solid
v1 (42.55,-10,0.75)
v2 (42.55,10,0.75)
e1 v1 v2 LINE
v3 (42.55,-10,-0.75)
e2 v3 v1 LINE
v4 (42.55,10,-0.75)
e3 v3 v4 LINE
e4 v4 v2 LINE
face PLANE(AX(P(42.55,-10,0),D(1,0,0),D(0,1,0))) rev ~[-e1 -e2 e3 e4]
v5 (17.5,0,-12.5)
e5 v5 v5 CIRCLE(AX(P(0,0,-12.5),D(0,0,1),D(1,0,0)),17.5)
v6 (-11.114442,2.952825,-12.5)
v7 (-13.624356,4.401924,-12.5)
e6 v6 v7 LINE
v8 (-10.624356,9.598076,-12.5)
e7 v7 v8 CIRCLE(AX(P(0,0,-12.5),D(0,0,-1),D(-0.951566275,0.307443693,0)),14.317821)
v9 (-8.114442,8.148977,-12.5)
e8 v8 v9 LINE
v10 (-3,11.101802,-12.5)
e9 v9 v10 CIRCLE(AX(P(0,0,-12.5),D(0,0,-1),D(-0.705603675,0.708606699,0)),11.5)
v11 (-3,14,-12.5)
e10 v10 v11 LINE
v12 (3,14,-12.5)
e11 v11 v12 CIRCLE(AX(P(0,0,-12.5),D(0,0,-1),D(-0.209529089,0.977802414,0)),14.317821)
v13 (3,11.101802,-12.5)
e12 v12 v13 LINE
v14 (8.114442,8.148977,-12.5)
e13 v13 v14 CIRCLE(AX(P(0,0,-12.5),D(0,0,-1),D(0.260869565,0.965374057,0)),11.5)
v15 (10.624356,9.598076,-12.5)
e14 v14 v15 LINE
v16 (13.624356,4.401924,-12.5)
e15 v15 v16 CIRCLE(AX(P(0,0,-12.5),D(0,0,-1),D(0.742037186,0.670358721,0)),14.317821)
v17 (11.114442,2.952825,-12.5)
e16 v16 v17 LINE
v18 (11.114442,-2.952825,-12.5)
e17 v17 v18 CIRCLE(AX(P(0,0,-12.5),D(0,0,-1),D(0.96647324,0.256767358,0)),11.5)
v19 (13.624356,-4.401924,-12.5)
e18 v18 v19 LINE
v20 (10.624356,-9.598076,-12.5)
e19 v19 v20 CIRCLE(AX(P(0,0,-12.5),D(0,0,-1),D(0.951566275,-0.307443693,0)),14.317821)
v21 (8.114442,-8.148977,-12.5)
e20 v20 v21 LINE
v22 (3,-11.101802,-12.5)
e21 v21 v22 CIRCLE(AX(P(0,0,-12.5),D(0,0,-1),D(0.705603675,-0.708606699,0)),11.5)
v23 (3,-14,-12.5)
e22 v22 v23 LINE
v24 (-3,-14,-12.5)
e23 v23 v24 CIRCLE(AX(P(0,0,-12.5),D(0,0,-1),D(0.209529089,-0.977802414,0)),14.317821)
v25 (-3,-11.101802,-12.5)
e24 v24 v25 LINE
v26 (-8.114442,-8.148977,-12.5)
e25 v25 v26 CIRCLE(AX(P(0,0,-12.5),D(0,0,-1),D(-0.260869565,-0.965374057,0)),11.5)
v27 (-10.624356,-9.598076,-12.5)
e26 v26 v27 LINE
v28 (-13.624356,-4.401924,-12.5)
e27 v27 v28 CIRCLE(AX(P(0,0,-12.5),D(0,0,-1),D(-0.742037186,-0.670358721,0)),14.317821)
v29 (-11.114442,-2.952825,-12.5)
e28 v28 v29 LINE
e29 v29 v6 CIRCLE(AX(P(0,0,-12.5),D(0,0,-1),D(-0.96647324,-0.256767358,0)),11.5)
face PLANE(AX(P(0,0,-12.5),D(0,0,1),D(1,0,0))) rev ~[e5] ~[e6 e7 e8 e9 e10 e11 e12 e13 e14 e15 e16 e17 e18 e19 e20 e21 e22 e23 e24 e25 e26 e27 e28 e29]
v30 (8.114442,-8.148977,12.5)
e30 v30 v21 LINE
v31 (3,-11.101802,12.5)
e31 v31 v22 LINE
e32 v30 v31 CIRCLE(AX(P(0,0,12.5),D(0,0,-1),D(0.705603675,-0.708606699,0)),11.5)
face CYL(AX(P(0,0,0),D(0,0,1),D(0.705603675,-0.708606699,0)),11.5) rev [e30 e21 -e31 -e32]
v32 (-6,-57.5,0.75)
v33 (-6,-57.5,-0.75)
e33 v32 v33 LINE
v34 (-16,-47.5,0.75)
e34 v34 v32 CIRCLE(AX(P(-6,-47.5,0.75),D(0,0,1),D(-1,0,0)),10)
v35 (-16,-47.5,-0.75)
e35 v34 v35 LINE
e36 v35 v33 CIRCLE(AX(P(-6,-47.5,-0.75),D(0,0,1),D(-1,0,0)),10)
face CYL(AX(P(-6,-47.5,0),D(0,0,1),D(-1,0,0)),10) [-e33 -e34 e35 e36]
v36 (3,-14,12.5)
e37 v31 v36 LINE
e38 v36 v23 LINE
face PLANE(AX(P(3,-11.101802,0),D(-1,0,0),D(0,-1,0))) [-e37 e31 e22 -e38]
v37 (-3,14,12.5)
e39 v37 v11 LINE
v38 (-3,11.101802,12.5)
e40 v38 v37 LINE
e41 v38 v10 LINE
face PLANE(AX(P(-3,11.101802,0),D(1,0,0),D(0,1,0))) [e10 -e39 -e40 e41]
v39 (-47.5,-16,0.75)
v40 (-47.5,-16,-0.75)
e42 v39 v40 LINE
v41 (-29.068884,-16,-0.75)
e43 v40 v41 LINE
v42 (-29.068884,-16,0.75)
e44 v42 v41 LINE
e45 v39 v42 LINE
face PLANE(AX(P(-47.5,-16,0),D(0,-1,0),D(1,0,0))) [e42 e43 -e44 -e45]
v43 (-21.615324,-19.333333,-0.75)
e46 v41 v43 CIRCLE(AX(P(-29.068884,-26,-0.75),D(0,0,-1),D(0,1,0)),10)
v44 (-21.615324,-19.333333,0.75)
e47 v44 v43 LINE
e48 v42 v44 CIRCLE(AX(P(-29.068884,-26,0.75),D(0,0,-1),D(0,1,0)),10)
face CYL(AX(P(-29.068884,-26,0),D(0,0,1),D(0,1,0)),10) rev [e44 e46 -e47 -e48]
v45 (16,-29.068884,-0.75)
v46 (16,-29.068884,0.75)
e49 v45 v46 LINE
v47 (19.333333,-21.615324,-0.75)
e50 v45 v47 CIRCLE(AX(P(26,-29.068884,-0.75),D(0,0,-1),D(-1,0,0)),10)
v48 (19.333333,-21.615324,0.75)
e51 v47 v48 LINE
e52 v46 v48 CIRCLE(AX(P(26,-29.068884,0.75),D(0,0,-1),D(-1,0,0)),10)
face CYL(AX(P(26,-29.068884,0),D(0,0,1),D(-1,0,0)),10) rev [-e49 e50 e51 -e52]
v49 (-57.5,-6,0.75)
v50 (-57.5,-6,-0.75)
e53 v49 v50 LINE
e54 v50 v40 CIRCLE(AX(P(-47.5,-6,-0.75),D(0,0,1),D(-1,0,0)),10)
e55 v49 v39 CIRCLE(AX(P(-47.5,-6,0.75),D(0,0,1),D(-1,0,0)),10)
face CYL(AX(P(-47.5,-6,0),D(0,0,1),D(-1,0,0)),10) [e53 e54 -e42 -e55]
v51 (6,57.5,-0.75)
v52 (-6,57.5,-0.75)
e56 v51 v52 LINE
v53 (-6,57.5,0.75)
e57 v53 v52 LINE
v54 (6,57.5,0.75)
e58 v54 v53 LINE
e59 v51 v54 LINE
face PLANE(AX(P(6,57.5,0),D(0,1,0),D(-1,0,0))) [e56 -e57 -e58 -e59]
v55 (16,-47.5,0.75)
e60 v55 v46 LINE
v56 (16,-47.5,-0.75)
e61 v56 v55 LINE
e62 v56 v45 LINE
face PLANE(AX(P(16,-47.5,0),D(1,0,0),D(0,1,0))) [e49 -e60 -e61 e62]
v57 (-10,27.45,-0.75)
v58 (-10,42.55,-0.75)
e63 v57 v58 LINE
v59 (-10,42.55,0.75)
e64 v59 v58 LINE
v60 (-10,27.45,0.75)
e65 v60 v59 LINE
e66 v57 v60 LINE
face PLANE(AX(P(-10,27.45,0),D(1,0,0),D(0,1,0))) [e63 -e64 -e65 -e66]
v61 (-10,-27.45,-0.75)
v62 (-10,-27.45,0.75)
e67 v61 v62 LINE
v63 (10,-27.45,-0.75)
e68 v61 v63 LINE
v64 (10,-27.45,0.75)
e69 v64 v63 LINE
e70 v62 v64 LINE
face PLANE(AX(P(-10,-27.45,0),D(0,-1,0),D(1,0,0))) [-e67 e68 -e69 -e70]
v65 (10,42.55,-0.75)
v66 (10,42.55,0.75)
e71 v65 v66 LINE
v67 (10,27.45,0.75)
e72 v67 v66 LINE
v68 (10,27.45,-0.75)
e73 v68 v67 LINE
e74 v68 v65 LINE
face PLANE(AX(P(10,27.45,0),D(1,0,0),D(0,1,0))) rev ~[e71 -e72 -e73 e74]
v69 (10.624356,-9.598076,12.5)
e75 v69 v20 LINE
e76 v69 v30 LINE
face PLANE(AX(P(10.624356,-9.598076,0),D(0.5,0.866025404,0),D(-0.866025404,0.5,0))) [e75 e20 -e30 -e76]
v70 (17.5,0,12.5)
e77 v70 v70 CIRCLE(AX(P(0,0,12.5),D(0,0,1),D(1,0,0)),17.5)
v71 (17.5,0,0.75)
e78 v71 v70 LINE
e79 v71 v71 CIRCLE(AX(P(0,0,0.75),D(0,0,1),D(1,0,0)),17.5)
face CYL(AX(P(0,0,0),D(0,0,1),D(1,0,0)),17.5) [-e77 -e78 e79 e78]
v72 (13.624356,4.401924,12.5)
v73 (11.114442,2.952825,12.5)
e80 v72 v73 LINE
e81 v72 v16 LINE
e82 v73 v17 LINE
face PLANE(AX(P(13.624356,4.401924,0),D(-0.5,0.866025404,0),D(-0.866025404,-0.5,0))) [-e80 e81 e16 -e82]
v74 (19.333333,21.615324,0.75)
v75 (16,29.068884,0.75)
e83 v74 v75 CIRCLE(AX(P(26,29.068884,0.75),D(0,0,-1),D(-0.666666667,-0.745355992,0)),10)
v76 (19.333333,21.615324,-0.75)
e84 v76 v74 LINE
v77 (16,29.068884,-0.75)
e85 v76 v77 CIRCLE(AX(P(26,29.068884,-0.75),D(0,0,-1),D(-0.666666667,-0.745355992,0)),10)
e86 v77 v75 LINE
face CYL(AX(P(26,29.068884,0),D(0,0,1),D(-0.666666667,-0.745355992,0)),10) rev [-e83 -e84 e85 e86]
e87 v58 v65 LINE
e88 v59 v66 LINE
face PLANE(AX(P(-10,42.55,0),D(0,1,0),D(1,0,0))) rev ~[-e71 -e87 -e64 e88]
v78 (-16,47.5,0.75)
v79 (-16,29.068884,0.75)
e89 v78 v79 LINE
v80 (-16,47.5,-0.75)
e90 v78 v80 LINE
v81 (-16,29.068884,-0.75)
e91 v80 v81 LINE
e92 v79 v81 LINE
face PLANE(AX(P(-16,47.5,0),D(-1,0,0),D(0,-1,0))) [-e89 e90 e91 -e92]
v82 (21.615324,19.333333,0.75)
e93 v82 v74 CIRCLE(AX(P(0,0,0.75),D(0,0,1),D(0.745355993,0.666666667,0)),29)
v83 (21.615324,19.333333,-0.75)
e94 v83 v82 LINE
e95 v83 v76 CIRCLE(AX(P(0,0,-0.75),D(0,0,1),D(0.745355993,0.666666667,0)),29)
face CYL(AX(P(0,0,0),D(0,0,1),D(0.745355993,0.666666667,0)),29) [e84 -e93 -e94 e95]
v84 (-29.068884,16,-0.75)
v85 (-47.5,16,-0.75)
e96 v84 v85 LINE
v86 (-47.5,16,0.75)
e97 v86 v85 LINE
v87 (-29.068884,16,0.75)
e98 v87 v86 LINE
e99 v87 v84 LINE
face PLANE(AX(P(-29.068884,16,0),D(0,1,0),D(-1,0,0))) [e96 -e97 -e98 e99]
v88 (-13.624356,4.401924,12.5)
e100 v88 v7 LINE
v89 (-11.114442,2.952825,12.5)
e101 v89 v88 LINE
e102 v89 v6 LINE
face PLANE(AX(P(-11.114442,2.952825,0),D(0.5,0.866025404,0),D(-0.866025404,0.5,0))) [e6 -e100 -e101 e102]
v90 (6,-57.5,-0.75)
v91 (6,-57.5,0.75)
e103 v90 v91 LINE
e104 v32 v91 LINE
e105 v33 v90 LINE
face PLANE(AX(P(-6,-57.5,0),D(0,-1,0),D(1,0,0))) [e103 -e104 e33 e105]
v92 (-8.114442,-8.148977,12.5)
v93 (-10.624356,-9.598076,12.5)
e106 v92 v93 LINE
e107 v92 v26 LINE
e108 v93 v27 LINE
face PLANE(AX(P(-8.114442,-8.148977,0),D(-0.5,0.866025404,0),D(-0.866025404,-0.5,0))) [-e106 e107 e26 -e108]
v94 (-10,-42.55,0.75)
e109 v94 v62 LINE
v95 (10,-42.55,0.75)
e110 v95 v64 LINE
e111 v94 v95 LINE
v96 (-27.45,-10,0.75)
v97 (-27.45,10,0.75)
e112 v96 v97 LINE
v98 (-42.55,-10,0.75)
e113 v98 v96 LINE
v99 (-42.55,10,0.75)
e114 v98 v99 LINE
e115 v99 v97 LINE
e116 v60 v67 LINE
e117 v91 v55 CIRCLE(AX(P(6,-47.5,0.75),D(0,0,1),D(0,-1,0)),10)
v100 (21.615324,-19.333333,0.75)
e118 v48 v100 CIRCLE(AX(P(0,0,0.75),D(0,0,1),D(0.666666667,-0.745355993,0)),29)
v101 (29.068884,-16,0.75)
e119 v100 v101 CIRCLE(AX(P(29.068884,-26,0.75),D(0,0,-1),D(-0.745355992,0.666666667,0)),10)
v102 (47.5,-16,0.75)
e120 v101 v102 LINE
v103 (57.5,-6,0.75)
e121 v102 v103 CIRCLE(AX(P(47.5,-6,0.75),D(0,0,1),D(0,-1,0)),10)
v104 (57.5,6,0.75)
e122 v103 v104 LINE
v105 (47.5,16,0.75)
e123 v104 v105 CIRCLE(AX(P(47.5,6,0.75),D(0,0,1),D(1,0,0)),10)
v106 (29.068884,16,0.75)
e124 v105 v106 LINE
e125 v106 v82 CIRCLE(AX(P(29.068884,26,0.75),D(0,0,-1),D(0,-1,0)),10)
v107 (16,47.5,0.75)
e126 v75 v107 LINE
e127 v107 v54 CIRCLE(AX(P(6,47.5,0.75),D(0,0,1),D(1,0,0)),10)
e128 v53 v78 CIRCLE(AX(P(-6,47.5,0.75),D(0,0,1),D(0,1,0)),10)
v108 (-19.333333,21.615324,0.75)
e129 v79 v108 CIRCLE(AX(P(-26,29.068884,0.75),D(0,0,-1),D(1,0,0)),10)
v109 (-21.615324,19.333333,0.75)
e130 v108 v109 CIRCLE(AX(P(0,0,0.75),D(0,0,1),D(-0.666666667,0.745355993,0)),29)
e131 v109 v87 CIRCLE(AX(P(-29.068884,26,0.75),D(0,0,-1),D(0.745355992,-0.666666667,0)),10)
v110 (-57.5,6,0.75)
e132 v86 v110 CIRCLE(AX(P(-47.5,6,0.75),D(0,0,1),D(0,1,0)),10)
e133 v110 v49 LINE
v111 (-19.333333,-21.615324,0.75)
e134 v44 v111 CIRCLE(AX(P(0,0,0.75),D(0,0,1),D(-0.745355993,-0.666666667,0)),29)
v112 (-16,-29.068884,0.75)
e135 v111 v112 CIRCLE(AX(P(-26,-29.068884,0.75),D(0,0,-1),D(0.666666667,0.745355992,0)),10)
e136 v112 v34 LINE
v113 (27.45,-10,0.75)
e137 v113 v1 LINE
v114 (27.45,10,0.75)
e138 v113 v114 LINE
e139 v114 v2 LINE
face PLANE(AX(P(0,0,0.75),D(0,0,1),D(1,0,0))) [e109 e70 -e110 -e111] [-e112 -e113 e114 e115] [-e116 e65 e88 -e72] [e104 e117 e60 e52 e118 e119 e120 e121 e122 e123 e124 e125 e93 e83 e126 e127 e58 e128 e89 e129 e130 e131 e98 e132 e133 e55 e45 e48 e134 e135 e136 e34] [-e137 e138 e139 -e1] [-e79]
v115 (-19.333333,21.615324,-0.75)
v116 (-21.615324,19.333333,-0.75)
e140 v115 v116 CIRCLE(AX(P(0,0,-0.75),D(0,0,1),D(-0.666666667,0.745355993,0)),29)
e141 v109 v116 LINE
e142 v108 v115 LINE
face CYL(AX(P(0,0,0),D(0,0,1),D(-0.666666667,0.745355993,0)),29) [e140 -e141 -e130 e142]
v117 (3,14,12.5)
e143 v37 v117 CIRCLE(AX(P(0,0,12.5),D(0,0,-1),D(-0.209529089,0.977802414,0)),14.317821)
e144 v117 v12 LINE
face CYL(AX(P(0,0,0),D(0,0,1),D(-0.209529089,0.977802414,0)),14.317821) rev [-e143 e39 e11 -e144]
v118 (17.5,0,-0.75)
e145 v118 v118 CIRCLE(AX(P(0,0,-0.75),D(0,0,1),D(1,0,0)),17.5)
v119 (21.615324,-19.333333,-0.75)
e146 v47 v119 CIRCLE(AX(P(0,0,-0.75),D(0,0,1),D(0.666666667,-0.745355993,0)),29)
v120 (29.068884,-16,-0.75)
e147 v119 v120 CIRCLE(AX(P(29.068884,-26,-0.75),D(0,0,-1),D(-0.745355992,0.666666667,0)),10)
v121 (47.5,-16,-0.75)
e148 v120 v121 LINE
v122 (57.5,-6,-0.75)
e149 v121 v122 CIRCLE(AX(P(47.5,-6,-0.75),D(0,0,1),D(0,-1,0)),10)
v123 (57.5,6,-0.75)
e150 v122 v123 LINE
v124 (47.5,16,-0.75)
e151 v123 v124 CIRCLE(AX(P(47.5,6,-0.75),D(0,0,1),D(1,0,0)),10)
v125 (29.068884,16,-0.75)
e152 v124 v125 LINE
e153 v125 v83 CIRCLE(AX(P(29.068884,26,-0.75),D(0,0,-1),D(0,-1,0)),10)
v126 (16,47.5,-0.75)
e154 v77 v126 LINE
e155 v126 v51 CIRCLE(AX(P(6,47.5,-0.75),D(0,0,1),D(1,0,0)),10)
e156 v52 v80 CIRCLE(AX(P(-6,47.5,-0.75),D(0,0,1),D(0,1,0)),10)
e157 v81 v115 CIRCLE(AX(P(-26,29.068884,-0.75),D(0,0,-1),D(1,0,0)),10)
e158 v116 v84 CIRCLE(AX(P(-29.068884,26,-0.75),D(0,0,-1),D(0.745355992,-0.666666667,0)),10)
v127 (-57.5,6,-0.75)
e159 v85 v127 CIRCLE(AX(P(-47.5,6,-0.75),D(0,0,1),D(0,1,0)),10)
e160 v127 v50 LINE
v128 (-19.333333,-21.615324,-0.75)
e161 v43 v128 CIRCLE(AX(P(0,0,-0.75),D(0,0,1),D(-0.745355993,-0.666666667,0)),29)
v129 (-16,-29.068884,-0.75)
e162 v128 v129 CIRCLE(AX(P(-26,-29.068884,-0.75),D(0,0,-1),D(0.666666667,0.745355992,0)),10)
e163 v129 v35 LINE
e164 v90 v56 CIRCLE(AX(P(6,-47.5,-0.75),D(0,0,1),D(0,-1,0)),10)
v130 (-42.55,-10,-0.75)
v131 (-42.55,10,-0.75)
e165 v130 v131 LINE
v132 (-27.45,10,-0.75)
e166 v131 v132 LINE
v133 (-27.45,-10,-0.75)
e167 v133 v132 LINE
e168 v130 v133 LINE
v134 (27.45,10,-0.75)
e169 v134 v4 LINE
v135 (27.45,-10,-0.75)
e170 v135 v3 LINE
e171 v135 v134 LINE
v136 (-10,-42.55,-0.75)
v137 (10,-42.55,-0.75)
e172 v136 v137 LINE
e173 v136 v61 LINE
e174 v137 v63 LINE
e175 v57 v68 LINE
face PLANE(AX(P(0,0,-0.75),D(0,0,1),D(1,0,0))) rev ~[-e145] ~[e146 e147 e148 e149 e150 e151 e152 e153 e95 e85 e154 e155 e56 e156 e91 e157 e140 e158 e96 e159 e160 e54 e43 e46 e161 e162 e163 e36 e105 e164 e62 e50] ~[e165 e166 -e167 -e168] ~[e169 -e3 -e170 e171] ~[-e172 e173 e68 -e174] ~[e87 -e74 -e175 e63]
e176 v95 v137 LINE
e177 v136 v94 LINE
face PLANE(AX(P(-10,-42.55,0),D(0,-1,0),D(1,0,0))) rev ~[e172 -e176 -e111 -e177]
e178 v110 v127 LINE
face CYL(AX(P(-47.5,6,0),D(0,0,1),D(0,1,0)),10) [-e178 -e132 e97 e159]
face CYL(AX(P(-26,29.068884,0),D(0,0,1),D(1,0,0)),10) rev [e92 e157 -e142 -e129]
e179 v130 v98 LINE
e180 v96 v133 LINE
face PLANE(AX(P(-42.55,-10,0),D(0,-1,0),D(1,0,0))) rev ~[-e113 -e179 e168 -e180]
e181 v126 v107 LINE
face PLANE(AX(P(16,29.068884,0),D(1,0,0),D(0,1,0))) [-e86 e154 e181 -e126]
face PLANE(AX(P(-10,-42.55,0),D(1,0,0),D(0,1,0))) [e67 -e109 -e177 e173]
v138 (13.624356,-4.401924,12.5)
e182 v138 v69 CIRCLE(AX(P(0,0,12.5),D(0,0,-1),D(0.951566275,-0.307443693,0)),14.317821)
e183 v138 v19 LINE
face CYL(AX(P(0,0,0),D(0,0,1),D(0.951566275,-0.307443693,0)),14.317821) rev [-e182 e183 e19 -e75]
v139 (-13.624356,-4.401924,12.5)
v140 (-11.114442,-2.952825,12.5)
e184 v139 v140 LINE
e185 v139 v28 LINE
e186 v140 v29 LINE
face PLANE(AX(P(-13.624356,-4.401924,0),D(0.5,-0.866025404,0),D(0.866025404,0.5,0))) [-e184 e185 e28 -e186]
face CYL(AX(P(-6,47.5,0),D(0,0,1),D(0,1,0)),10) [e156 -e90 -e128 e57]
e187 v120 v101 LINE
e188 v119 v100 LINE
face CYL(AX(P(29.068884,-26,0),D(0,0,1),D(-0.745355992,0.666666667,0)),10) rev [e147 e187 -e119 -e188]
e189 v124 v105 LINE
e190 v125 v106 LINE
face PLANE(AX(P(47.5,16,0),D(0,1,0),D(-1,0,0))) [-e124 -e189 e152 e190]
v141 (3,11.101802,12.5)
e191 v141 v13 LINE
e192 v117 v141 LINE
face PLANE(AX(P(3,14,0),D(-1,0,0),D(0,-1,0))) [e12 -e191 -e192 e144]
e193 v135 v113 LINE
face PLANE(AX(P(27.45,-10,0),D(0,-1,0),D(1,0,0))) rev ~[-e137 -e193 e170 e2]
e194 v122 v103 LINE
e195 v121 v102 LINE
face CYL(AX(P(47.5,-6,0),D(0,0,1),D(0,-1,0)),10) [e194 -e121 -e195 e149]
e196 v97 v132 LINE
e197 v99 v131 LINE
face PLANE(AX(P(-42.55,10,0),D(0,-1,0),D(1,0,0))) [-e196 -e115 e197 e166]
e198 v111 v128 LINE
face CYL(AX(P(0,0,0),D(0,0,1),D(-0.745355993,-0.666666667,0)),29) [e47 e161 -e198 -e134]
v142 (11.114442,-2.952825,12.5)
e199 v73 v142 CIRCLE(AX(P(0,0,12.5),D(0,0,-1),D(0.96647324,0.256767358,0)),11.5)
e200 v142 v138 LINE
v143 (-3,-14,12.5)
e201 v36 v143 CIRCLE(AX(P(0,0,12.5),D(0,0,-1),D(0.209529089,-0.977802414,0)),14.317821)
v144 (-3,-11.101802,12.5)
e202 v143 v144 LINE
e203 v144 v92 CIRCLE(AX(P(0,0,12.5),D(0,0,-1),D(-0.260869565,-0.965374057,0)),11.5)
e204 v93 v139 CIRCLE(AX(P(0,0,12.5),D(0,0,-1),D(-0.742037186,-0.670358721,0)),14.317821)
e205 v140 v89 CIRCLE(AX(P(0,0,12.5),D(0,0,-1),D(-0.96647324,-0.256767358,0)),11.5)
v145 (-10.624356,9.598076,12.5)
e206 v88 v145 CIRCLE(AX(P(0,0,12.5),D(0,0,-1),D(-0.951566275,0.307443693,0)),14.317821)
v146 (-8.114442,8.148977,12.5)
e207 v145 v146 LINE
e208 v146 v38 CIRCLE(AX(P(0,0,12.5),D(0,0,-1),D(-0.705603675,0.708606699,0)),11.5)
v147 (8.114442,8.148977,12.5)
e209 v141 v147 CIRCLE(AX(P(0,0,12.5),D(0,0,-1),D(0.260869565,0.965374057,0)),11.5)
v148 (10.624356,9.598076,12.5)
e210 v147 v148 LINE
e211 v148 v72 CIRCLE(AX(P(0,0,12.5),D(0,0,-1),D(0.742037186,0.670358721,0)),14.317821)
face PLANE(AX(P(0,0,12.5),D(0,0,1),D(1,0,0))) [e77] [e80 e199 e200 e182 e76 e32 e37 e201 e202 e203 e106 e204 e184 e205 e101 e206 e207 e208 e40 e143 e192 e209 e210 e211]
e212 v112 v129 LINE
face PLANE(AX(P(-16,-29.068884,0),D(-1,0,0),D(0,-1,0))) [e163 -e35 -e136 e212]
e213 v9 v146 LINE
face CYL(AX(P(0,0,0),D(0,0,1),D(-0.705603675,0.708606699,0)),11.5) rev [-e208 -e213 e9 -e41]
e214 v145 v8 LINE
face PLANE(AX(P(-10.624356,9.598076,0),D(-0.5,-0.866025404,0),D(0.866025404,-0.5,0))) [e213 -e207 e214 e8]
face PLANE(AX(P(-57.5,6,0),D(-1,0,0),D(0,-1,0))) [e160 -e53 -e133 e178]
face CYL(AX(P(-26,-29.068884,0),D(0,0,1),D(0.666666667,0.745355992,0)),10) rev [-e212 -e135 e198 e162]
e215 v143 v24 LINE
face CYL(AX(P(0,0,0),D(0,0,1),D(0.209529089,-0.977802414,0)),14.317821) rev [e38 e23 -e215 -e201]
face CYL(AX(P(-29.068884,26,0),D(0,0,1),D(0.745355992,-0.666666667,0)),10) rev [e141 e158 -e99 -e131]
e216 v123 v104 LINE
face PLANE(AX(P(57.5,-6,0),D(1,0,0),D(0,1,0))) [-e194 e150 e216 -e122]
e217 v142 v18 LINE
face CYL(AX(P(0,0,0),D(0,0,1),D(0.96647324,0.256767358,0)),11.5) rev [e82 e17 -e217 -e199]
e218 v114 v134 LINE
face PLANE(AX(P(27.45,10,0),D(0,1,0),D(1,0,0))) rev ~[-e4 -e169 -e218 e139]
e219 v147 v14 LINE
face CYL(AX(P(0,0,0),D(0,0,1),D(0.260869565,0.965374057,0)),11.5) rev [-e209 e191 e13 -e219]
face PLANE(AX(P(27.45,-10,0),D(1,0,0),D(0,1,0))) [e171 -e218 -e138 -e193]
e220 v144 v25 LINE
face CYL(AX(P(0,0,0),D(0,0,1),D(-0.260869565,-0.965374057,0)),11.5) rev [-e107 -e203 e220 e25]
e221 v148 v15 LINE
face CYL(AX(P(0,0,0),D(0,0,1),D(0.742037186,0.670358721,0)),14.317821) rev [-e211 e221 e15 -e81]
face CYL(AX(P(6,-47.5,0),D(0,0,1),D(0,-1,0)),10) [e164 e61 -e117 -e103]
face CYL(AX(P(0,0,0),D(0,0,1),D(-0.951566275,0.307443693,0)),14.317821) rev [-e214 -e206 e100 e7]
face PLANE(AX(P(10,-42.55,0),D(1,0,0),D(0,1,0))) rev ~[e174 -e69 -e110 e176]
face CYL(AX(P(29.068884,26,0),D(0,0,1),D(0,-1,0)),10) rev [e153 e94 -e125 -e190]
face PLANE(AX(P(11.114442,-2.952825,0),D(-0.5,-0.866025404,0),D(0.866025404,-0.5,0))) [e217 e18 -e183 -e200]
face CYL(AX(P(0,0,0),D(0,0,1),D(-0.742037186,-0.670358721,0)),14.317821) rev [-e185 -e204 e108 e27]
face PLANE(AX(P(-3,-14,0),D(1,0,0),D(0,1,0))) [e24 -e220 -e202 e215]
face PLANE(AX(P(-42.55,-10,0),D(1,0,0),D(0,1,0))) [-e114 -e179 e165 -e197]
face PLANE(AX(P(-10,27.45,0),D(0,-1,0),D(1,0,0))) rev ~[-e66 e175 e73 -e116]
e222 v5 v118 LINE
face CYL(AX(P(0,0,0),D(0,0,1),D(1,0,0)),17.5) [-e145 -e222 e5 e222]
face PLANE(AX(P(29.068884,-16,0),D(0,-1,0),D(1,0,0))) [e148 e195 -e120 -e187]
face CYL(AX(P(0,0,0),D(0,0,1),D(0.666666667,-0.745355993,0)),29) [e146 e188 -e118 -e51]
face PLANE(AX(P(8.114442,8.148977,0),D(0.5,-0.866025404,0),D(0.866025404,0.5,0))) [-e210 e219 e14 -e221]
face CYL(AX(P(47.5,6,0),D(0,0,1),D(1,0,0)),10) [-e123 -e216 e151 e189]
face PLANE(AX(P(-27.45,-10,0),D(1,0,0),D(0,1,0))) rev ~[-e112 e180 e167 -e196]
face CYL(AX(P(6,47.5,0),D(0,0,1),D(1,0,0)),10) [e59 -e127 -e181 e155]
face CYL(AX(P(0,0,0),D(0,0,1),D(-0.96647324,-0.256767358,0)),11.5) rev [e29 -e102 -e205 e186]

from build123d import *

# Parameters (mm, degrees)
SKETCH1_R           = 17.5
SKETCH1_W           = 20
SKETCH1_H           = 15.1
SKETCH1_W_2         = 15.1
SKETCH1_H_2         = 20
BOSS_EXTRUDE1_DEPTH = 0.75
SKETCH1_3_R         = 17.5
BOSS_EXTRUDE2_DEPTH = 12.5


with BuildPart() as part:
    # Sketch1 → Boss-Extrude1 (new, symmetric)
    with BuildSketch(Plane.XY):
        with BuildLine():
            Line((-6, -57.5), (6, -57.5))
            ThreePointArc((6, -57.5), (13.071067812, -54.571067812), (16, -47.5))
            Line((16, -47.5), (16, -29.068883707))
            ThreePointArc((16, -29.068883707), (16.871290708, -24.986400803), (19.333333333, -21.615323782))
            ThreePointArc((19.333333333, -21.615323782), (20.506096654, -20.506096654), (21.615323782, -19.333333333))
            ThreePointArc((21.615323782, -19.333333333), (24.986400803, -16.871290708), (29.068883707, -16))
            Line((29.068883707, -16), (47.5, -16))
            ThreePointArc((47.5, -16), (54.571067812, -13.071067812), (57.5, -6))
            Line((57.5, -6), (57.5, 6))
            ThreePointArc((57.5, 6), (54.571067812, 13.071067812), (47.5, 16))
            Line((47.5, 16), (29.068883707, 16))
            ThreePointArc((29.068883707, 16), (24.986400803, 16.871290708), (21.615323782, 19.333333333))
            ThreePointArc((21.615323782, 19.333333333), (20.506096654, 20.506096654), (19.333333333, 21.615323782))
            ThreePointArc((19.333333333, 21.615323782), (16.871290708, 24.986400803), (16, 29.068883707))
            Line((16, 29.068883707), (16, 47.5))
            ThreePointArc((16, 47.5), (13.071067812, 54.571067812), (6, 57.5))
            Line((6, 57.5), (-6, 57.5))
            ThreePointArc((-6, 57.5), (-13.071067812, 54.571067812), (-16, 47.5))
            Line((-16, 47.5), (-16, 29.068883707))
            ThreePointArc((-16, 29.068883707), (-16.871290708, 24.986400803), (-19.333333333, 21.615323782))
            ThreePointArc((-19.333333333, 21.615323782), (-20.506096654, 20.506096654), (-21.615323782, 19.333333333))
            ThreePointArc((-21.615323782, 19.333333333), (-24.986400803, 16.871290708), (-29.068883707, 16))
            Line((-29.068883707, 16), (-47.5, 16))
            ThreePointArc((-47.5, 16), (-54.571067812, 13.071067812), (-57.5, 6))
            Line((-57.5, 6), (-57.5, -6))
            ThreePointArc((-57.5, -6), (-54.571067812, -13.071067812), (-47.5, -16))
            Line((-47.5, -16), (-29.068883707, -16))
            ThreePointArc((-29.068883707, -16), (-24.986400803, -16.871290708), (-21.615323782, -19.333333333))
            ThreePointArc((-21.615323782, -19.333333333), (-20.506096654, -20.506096654), (-19.333333333, -21.615323782))
            ThreePointArc((-19.333333333, -21.615323782), (-16.871290708, -24.986400803), (-16, -29.068883707))
            Line((-16, -29.068883707), (-16, -47.5))
            ThreePointArc((-16, -47.5), (-13.071067812, -54.571067812), (-6, -57.5))
        make_face()
        Circle(SKETCH1_R, mode=Mode.SUBTRACT)
        with Locations((0, 35)):
            Rectangle(SKETCH1_W, SKETCH1_H, mode=Mode.SUBTRACT)
        with Locations((0, -35)):
            Rectangle(SKETCH1_W, SKETCH1_H, mode=Mode.SUBTRACT)
        with Locations((35, 0)):
            Rectangle(SKETCH1_W_2, SKETCH1_H_2, mode=Mode.SUBTRACT)
        with Locations((-35, 0)):
            Rectangle(SKETCH1_W_2, SKETCH1_H_2, mode=Mode.SUBTRACT)
    extrude(amount=BOSS_EXTRUDE1_DEPTH, both=True)

    # Sketch1<3> → Boss-Extrude2 (add, symmetric)
    with BuildSketch(Plane.XY):
        Circle(SKETCH1_3_R)
        with BuildLine():
            ThreePointArc((-8.114442262, 8.148977039), (-5.75, 9.959292144), (-3, 11.101801656))
            Line((-3, 11.101801656), (-3, 14))
            ThreePointArc((-3, 14), (0, 14.317821063), (3, 14))
            Line((3, 14), (3, 11.101801656))
            ThreePointArc((3, 11.101801656), (5.75, 9.959292144), (8.114442262, 8.148977039))
            Line((8.114442262, 8.148977039), (10.624355653, 9.598076211))
            ThreePointArc((10.624355653, 9.598076211), (12.399596768, 7.158910532), (13.624355653, 4.401923789))
            Line((13.624355653, 4.401923789), (11.114442262, 2.952824616))
            ThreePointArc((11.114442262, 2.952824616), (11.5, 0), (11.114442262, -2.952824616))
            Line((11.114442262, -2.952824616), (13.624355653, -4.401923789))
            ThreePointArc((13.624355653, -4.401923789), (12.399596768, -7.158910532), (10.624355653, -9.598076211))
            Line((10.624355653, -9.598076211), (8.114442262, -8.148977039))
            ThreePointArc((8.114442262, -8.148977039), (5.75, -9.959292144), (3, -11.101801656))
            Line((3, -11.101801656), (3, -14))
            ThreePointArc((3, -14), (0, -14.317821063), (-3, -14))
            Line((-3, -14), (-3, -11.101801656))
            ThreePointArc((-3, -11.101801656), (-5.75, -9.959292144), (-8.114442262, -8.148977039))
            Line((-8.114442262, -8.148977039), (-10.624355653, -9.598076211))
            ThreePointArc((-10.624355653, -9.598076211), (-12.399596768, -7.158910532), (-13.624355653, -4.401923789))
            Line((-13.624355653, -4.401923789), (-11.114442262, -2.952824616))
            ThreePointArc((-11.114442262, -2.952824616), (-11.5, 0), (-11.114442262, 2.952824616))
            Line((-11.114442262, 2.952824616), (-13.624355653, 4.401923789))
            ThreePointArc((-13.624355653, 4.401923789), (-12.399596768, 7.158910532), (-10.624355653, 9.598076211))
            Line((-10.624355653, 9.598076211), (-8.114442262, 8.148977039))
        make_face(mode=Mode.SUBTRACT)
    extrude(amount=BOSS_EXTRUDE2_DEPTH, both=True)


solid = part.part
